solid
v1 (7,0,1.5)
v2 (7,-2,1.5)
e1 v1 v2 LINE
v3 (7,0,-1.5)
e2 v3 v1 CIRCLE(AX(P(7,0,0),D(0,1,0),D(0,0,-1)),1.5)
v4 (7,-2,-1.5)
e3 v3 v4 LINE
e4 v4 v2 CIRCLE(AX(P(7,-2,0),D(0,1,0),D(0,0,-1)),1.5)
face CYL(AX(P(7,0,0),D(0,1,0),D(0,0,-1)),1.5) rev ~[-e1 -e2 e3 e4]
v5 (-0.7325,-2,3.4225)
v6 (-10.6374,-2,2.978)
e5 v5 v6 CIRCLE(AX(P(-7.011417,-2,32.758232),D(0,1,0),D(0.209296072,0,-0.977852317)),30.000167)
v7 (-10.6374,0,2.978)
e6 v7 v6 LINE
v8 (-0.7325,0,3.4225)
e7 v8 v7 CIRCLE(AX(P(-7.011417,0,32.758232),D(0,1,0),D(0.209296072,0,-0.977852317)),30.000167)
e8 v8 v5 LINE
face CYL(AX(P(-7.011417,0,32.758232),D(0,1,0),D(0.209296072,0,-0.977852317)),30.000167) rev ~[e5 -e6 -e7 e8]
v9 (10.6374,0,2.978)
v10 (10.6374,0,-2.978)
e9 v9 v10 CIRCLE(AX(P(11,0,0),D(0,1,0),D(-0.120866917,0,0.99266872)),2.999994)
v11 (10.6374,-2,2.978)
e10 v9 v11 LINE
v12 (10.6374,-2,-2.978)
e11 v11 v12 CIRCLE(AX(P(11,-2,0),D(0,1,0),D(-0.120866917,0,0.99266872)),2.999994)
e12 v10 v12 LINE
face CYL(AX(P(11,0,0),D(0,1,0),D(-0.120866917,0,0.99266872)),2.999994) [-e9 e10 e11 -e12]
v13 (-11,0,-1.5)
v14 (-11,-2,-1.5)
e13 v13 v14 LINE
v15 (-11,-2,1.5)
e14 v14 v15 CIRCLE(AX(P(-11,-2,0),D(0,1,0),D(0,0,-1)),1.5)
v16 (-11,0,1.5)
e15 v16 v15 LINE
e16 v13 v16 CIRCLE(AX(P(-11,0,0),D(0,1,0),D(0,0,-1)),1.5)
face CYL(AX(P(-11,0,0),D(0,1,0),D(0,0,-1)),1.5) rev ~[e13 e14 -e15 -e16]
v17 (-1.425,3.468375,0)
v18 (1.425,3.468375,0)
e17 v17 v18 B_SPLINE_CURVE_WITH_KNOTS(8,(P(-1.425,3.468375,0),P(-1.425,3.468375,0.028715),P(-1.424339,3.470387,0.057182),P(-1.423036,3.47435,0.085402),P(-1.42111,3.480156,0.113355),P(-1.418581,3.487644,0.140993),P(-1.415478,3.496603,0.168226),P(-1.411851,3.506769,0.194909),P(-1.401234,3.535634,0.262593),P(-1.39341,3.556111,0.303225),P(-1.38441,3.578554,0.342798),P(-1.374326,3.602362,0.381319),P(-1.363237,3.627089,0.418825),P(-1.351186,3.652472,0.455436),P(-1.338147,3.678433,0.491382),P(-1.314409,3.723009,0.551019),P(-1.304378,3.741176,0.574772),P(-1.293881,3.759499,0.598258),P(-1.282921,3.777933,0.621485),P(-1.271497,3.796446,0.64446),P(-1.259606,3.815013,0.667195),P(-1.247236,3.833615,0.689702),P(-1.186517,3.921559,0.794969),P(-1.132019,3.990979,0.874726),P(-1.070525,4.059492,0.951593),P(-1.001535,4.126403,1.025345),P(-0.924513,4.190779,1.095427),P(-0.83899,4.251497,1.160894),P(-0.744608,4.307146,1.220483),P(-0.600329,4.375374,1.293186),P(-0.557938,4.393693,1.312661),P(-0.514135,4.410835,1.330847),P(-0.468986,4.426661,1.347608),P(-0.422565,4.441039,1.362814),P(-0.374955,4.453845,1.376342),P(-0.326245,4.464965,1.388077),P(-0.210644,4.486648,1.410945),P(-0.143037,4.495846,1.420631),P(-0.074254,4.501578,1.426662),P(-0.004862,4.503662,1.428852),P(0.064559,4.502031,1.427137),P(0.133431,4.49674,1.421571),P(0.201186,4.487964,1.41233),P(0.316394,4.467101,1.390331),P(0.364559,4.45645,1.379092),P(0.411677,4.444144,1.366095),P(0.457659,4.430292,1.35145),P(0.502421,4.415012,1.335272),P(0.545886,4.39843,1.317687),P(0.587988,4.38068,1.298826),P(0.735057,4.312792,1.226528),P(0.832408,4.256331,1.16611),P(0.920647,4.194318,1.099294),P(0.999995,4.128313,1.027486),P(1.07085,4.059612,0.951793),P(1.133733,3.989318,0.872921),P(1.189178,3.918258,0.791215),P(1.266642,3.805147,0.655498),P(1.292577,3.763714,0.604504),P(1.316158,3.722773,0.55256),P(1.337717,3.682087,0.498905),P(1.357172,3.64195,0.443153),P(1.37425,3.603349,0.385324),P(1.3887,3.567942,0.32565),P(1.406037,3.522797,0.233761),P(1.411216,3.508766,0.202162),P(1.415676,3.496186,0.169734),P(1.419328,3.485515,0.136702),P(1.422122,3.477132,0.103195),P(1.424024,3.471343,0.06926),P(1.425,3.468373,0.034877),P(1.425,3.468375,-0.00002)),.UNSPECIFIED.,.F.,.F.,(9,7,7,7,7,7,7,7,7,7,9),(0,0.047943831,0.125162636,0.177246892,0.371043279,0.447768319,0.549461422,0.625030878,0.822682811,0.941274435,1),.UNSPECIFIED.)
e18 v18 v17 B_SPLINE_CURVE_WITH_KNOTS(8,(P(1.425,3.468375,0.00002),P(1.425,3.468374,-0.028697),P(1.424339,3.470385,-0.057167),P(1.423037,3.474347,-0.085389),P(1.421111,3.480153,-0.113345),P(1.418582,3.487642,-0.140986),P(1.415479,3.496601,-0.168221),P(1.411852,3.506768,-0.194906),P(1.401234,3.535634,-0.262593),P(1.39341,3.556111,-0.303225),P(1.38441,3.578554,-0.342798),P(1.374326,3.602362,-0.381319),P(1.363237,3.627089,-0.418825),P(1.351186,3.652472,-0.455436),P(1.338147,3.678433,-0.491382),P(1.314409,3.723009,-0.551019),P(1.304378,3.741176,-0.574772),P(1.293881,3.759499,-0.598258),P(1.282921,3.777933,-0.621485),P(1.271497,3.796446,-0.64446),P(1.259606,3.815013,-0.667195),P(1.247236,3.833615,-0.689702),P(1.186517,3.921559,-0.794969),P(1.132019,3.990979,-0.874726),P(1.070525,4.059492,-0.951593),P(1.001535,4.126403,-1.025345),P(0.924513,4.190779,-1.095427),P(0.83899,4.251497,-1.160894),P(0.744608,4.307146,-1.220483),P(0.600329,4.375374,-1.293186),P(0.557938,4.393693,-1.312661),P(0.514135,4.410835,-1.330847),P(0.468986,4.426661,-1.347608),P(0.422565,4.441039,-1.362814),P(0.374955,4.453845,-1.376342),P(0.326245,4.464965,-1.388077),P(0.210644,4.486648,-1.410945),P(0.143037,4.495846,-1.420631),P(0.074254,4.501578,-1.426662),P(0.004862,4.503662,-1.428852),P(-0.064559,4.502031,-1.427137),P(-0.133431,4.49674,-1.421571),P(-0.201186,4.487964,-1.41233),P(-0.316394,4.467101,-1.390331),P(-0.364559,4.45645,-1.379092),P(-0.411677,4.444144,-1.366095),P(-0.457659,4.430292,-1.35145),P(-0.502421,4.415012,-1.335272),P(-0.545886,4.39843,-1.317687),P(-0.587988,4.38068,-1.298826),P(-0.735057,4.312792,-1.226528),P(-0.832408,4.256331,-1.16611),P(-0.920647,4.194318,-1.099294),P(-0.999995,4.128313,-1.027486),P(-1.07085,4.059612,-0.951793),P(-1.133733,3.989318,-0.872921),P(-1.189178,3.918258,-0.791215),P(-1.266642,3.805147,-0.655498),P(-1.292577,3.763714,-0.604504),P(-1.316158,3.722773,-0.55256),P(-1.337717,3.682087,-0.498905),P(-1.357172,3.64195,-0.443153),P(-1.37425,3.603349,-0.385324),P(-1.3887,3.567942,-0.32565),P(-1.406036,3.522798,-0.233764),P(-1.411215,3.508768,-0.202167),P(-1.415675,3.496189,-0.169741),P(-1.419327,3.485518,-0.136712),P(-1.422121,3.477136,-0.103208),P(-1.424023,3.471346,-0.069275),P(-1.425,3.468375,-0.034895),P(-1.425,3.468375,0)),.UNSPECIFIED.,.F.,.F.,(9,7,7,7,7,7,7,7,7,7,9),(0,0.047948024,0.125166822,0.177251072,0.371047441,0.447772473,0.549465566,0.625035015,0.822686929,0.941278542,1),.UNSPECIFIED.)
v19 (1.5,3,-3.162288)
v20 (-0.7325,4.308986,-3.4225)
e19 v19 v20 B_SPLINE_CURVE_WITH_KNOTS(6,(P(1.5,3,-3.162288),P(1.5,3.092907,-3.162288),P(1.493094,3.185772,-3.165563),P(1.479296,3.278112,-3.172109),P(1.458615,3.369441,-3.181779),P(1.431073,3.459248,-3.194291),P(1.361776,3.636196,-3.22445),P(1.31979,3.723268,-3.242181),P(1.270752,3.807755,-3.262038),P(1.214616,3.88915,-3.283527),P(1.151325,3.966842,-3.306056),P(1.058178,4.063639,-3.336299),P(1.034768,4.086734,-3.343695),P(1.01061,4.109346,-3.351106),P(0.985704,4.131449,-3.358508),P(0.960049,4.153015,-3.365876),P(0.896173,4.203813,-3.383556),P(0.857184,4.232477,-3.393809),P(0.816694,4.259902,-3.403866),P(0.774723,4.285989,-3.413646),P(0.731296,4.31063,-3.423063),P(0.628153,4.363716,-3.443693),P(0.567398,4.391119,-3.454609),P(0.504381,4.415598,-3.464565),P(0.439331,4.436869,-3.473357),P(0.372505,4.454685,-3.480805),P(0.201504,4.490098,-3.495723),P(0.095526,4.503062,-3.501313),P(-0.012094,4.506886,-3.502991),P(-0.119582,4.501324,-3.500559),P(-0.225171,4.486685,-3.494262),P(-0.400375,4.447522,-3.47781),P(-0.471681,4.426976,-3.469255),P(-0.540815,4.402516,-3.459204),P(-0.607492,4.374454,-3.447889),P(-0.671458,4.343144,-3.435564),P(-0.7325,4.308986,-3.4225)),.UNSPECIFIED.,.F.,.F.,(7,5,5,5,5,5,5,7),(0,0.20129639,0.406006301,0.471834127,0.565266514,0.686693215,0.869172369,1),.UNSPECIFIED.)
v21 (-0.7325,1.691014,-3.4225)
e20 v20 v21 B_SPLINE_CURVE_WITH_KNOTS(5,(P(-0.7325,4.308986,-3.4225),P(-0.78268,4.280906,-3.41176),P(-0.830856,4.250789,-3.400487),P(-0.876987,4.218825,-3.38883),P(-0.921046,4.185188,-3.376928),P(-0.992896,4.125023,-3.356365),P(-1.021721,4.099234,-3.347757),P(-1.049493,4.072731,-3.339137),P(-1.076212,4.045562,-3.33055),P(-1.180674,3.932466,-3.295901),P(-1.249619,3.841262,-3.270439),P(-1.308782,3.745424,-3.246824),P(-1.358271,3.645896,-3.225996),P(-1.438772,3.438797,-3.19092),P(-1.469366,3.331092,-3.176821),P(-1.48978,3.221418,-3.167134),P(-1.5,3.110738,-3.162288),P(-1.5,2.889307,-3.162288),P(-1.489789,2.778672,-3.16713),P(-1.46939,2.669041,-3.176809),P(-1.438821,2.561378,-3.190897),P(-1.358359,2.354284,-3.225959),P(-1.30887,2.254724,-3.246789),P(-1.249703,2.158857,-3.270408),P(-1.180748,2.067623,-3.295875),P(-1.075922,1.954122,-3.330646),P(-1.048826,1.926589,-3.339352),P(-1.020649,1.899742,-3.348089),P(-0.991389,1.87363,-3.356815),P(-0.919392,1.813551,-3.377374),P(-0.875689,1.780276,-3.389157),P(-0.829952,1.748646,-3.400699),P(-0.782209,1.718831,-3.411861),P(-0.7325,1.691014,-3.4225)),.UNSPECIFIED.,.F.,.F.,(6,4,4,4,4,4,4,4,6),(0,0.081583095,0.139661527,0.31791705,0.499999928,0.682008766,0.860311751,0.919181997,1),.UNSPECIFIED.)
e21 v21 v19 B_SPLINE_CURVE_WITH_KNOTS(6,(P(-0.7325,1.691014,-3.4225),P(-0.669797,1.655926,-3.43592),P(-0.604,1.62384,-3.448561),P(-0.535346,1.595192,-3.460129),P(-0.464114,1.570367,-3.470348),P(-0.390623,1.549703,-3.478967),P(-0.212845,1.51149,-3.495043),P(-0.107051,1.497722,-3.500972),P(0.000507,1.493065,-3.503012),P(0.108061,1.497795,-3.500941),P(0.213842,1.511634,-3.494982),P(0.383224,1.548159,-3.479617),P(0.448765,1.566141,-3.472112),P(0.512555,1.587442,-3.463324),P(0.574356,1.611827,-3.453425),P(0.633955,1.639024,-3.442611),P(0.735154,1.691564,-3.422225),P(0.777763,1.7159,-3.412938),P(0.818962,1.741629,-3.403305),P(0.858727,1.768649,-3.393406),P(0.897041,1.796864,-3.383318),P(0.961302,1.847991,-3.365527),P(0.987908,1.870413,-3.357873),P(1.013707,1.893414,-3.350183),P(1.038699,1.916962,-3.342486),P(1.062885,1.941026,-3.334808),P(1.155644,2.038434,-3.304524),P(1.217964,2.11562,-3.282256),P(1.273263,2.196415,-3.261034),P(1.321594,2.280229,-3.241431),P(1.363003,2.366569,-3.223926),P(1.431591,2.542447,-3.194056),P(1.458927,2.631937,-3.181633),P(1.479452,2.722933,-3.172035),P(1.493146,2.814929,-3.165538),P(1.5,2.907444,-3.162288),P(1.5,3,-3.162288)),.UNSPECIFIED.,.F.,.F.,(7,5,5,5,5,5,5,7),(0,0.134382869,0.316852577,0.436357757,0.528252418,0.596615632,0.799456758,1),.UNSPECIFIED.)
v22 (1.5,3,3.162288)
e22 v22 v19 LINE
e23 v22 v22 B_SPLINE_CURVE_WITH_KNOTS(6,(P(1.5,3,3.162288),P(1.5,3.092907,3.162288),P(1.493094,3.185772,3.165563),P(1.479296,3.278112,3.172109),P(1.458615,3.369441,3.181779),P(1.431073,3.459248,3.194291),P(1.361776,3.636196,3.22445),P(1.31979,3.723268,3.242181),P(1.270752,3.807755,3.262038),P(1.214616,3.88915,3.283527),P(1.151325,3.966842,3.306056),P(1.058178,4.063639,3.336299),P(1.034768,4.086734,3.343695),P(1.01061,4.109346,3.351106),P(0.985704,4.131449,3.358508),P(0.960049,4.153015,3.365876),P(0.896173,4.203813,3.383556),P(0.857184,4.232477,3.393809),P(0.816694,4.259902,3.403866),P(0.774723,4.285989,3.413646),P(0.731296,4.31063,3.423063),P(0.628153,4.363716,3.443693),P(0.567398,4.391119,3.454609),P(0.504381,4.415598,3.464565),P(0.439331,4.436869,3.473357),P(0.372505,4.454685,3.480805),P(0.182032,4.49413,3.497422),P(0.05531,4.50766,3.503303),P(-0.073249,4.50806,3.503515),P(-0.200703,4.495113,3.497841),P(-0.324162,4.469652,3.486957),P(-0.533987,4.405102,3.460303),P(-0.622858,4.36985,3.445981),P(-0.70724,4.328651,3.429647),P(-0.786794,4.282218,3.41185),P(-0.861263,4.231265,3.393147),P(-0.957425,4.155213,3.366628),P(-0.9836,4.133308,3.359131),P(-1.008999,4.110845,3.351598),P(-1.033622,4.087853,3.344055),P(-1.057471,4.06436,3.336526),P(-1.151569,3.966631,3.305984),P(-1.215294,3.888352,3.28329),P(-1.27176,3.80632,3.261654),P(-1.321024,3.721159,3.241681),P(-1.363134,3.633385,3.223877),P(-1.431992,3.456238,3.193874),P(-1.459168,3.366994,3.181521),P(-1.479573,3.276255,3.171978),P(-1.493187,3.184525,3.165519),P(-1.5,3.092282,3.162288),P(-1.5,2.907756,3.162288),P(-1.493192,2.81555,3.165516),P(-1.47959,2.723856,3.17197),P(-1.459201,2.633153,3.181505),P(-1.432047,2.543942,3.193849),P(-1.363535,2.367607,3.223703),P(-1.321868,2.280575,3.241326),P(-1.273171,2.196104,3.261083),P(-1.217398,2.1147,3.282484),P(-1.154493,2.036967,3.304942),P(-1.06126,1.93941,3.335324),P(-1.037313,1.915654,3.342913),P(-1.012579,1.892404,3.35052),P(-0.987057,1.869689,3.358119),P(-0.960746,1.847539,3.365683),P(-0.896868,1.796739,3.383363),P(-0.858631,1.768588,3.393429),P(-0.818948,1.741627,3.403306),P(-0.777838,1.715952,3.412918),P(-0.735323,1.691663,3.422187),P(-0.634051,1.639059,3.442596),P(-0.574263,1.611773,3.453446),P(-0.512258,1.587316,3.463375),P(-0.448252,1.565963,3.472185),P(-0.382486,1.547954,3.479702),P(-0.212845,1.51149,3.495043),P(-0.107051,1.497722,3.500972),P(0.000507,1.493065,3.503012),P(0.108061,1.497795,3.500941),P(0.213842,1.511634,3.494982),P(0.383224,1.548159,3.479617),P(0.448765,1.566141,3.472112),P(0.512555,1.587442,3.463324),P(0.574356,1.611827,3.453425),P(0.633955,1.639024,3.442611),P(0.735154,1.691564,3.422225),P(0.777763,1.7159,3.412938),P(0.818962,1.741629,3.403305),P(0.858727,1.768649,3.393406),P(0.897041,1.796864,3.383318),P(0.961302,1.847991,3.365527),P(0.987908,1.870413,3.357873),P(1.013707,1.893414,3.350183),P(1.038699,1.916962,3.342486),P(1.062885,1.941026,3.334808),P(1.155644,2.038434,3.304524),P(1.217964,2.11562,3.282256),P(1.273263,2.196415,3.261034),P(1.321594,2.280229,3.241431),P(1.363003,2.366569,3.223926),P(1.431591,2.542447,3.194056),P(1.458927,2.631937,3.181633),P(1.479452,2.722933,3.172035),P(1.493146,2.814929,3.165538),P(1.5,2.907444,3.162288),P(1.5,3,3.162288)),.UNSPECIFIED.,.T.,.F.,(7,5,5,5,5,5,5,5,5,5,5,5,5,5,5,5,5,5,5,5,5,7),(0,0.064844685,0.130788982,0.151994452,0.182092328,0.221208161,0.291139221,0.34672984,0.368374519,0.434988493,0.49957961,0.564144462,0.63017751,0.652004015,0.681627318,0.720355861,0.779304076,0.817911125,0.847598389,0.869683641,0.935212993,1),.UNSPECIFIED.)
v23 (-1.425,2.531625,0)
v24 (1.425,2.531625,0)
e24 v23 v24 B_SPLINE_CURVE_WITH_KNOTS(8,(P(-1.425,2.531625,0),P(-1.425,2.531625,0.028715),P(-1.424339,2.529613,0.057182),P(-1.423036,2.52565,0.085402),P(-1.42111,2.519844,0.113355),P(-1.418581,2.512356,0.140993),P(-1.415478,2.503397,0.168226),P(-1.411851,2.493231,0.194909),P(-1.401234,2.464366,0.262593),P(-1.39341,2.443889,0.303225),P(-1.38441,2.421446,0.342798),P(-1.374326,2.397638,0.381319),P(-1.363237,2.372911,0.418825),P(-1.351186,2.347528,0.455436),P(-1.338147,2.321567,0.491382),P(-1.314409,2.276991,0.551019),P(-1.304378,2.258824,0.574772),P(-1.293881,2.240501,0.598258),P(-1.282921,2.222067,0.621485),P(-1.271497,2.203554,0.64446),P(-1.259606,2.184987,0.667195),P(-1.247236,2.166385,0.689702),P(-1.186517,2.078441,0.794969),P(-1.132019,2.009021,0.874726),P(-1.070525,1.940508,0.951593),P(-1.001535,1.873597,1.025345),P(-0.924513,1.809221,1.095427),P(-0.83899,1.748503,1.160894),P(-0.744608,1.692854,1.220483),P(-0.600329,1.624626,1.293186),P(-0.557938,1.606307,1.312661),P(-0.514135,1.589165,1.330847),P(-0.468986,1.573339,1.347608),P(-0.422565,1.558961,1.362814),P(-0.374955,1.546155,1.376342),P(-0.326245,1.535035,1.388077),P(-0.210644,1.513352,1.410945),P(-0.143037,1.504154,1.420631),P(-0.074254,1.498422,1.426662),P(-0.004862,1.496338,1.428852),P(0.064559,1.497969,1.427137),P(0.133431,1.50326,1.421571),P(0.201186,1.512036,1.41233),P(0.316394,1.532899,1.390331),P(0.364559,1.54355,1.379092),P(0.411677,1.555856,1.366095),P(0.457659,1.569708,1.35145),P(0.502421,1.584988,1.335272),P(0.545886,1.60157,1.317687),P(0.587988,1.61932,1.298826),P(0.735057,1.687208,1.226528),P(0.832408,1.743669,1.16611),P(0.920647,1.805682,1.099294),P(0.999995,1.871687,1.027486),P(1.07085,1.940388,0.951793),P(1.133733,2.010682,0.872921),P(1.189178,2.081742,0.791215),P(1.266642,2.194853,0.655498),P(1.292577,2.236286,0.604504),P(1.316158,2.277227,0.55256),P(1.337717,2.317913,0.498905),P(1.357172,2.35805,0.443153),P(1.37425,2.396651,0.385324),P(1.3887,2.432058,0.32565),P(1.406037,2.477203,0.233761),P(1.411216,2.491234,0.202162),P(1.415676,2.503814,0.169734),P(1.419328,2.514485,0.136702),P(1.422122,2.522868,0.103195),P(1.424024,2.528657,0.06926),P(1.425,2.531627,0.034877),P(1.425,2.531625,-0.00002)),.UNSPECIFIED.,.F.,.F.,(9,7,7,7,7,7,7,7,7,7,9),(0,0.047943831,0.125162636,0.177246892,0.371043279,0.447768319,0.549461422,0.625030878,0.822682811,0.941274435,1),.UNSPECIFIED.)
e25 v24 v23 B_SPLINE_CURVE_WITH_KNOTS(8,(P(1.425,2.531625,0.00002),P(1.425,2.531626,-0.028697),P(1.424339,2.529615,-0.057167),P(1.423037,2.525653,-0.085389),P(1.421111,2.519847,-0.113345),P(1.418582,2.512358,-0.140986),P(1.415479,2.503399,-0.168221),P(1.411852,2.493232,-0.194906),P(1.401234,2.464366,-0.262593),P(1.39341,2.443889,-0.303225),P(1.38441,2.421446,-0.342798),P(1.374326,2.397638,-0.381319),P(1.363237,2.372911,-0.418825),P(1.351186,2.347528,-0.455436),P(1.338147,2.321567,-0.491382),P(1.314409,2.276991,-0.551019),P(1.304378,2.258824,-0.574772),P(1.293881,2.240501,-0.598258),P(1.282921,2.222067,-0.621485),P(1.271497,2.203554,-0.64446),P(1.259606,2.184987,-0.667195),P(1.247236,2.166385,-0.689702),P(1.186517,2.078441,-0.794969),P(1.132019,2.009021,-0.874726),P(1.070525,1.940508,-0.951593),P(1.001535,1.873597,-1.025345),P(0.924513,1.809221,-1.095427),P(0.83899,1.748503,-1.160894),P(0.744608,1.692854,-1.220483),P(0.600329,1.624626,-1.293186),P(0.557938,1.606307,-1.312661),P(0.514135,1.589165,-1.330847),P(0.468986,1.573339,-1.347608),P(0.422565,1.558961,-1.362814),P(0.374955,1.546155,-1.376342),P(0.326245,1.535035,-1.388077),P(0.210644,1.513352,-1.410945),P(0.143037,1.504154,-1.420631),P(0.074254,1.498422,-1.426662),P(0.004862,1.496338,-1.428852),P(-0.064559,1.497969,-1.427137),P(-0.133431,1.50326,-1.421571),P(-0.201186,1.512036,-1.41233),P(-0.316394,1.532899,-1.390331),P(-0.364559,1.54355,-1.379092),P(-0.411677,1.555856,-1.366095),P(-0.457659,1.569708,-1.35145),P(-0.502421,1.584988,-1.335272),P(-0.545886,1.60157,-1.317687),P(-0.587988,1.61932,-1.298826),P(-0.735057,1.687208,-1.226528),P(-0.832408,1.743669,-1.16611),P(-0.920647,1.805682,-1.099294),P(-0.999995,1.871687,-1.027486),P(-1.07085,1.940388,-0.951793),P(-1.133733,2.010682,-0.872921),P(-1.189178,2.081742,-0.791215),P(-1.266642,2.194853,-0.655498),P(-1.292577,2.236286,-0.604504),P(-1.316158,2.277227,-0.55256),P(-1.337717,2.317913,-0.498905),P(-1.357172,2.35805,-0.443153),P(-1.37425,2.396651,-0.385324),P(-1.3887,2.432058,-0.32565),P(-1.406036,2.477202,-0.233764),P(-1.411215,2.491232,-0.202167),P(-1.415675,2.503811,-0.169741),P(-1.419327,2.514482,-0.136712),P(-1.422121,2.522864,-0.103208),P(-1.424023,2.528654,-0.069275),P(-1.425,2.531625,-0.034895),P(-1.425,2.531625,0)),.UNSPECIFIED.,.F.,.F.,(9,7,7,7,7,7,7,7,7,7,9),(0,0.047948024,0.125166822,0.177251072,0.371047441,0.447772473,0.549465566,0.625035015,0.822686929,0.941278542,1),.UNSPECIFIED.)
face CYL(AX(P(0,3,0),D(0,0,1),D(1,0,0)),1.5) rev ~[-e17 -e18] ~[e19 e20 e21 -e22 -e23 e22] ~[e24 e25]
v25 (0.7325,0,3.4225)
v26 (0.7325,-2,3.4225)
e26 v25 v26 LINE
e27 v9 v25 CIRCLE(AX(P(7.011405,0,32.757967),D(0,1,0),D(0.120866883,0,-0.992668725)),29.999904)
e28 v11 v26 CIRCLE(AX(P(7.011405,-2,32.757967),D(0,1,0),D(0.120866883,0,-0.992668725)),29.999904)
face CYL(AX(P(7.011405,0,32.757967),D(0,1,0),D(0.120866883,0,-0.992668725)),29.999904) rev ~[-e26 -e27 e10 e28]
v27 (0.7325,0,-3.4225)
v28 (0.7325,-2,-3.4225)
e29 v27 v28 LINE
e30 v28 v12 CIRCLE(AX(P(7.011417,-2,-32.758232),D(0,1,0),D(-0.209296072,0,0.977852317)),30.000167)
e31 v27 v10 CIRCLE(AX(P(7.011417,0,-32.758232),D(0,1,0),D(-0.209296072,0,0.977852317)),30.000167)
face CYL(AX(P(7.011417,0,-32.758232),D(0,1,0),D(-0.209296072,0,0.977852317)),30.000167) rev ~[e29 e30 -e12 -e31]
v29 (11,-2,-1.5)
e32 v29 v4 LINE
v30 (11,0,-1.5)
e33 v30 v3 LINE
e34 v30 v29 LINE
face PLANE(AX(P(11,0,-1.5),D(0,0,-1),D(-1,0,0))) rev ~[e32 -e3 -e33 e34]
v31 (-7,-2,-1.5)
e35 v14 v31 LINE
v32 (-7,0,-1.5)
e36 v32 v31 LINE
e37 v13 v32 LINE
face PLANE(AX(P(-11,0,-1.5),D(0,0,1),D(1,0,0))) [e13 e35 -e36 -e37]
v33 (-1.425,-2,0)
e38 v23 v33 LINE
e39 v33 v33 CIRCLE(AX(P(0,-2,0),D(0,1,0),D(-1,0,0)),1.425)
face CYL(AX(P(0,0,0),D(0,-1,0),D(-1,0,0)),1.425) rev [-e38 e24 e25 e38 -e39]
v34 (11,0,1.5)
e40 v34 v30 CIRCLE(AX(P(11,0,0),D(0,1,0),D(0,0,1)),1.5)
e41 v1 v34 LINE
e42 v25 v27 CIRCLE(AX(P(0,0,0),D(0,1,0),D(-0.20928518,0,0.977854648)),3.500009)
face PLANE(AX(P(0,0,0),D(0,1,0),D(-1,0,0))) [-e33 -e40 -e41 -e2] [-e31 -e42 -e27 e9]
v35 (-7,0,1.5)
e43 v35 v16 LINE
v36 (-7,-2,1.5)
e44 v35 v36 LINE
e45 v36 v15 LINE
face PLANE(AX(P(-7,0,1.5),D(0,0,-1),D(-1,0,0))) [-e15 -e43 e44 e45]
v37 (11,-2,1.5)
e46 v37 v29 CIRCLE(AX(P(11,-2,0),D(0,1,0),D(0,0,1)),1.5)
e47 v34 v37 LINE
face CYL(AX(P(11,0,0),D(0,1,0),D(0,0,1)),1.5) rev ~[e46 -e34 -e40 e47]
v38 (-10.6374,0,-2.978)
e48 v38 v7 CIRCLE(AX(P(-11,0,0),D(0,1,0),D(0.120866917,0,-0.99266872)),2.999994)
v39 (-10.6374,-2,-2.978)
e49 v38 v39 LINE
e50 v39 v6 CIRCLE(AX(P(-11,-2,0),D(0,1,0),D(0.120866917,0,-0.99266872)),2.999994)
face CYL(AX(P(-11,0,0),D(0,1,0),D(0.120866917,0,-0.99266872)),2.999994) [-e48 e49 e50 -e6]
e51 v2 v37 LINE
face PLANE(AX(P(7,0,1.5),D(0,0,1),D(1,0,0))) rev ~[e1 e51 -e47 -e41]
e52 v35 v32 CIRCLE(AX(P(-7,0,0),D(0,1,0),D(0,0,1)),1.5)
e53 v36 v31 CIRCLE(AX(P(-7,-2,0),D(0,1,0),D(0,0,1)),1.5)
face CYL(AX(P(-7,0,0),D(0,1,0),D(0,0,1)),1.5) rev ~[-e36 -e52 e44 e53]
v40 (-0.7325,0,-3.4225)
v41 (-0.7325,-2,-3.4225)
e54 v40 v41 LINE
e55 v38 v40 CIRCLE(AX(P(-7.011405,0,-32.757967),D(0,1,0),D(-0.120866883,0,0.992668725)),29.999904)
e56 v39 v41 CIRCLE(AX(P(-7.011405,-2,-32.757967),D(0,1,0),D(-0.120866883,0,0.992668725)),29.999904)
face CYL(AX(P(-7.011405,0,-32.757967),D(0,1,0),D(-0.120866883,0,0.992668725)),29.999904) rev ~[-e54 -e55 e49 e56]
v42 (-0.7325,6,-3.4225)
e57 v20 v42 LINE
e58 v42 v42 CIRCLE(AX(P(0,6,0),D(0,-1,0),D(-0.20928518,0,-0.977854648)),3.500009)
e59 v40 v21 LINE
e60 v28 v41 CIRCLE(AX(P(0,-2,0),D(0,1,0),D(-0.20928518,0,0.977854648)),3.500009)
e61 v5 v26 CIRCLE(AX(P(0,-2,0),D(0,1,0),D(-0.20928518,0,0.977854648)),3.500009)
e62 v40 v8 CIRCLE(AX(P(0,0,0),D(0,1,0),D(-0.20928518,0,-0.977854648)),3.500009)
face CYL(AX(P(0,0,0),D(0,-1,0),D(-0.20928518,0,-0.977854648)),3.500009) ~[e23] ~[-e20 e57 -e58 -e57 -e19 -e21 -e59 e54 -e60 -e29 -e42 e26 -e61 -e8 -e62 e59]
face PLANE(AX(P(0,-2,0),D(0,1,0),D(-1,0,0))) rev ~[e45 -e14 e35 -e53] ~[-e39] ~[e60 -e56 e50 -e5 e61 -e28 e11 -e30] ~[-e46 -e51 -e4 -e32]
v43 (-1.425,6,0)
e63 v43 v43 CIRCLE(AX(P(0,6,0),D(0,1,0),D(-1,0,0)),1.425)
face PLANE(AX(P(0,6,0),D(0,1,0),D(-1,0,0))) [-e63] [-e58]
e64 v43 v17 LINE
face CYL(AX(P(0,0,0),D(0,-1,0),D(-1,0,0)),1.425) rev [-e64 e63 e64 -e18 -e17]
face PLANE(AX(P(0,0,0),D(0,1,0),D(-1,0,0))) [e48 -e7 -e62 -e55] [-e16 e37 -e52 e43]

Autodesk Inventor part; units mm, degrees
ref_plane "YZ Plane" through (0, 0, 0) normal (1, 0, 0) x (0, 1, 0)
ref_plane "XZ Plane" through (0, 0, 0) normal (0, 1, 0) x (-1, 0, 0)
sketch "Sketch1" plane through (0, 0, 0) normal (0, 1, 0) x (-1, 0, 0)
  circle A0 centre (0, 0) radius 1.425
  arc A1 (0.7325, 3.4225) -> (0.7325, -3.4225) centre (0, 0) ccw
  arc A2 (-10.6374, 2.978) -> (-10.6374, -2.978) centre (-11, 0) ccw
  arc A3 (-0.7325, -3.4225) -> (-10.6374, -2.978) centre (-7.0114, -32.7581) ccw
  arc A4 (-10.6374, 2.978) -> (-0.7325, 3.4225) centre (-7.0114, 32.7581) ccw
  line L0 (0, 0) -> (0, -3.5) construction
  arc A5 (10.6374, -2.978) -> (10.6374, 2.978) centre (11, 0) ccw
  arc A6 (10.6374, -2.978) -> (0.7325, -3.4225) centre (7.0114, -32.7581) ccw
  arc A7 (0.7325, 3.4225) -> (10.6374, 2.978) centre (7.0114, 32.7581) ccw
  arc A8 (0.7325, -3.4225) -> (0.7325, 3.4225) centre (0, 0) ccw
  line L1 (-7, 0) -> (-11, 0) construction
  line L2 (-7, 1.5) -> (-11, 1.5)
  line L3 (-11, -1.5) -> (-7, -1.5)
  arc A9 (-7, -1.5) -> (-7, 1.5) centre (-7, 0) ccw
  arc A10 (-11, 1.5) -> (-11, -1.5) centre (-11, 0) ccw
  line L4 (0, 0) -> (0, 10.6899) construction
  line L5 (7, 1.5) -> (11, 1.5)
  line L6 (11, -1.5) -> (7, -1.5)
  arc A11 (7, 1.5) -> (7, -1.5) centre (7, 0) ccw
  arc A12 (11, -1.5) -> (11, 1.5) centre (11, 0) ccw
  point P0 (-9, 0)
  dimension "d0" = 2.85
  dimension "d1" = 7
  dimension "d6" = 3
  dimension "d14" = 30
  dimension "d15" = 3
  dimension "d16" = 4
  dimension "d17" = 7
extrude "Extrusion1" add sketch "Sketch1" against normal blind 2
extrude "Extrusion2" add sketch "Sketch1" along normal blind 6 contours A8 A1
sketch "Sketch2" plane through (0, 0, 0) normal (0, 0, 1) x (1, 0, 0)
  circle A0 centre (0, 3) radius 1.5
  line L0 (3.5, 6) -> (3.5, 0) projected
  point P0 (0, 0)
  point P1 (3.5, 3)
  dimension "d11" = 3
extrude "Extrusion3" cut sketch "Sketch2" along normal through all both and the other way through all
ref_plane "Work Plane1" through (0, 0, 3.5) normal (0, 0, 1) x (1, 0, 0)
properties part number "EncoderWheelAdapterSmallSlotted" material "ABS Plastic"
